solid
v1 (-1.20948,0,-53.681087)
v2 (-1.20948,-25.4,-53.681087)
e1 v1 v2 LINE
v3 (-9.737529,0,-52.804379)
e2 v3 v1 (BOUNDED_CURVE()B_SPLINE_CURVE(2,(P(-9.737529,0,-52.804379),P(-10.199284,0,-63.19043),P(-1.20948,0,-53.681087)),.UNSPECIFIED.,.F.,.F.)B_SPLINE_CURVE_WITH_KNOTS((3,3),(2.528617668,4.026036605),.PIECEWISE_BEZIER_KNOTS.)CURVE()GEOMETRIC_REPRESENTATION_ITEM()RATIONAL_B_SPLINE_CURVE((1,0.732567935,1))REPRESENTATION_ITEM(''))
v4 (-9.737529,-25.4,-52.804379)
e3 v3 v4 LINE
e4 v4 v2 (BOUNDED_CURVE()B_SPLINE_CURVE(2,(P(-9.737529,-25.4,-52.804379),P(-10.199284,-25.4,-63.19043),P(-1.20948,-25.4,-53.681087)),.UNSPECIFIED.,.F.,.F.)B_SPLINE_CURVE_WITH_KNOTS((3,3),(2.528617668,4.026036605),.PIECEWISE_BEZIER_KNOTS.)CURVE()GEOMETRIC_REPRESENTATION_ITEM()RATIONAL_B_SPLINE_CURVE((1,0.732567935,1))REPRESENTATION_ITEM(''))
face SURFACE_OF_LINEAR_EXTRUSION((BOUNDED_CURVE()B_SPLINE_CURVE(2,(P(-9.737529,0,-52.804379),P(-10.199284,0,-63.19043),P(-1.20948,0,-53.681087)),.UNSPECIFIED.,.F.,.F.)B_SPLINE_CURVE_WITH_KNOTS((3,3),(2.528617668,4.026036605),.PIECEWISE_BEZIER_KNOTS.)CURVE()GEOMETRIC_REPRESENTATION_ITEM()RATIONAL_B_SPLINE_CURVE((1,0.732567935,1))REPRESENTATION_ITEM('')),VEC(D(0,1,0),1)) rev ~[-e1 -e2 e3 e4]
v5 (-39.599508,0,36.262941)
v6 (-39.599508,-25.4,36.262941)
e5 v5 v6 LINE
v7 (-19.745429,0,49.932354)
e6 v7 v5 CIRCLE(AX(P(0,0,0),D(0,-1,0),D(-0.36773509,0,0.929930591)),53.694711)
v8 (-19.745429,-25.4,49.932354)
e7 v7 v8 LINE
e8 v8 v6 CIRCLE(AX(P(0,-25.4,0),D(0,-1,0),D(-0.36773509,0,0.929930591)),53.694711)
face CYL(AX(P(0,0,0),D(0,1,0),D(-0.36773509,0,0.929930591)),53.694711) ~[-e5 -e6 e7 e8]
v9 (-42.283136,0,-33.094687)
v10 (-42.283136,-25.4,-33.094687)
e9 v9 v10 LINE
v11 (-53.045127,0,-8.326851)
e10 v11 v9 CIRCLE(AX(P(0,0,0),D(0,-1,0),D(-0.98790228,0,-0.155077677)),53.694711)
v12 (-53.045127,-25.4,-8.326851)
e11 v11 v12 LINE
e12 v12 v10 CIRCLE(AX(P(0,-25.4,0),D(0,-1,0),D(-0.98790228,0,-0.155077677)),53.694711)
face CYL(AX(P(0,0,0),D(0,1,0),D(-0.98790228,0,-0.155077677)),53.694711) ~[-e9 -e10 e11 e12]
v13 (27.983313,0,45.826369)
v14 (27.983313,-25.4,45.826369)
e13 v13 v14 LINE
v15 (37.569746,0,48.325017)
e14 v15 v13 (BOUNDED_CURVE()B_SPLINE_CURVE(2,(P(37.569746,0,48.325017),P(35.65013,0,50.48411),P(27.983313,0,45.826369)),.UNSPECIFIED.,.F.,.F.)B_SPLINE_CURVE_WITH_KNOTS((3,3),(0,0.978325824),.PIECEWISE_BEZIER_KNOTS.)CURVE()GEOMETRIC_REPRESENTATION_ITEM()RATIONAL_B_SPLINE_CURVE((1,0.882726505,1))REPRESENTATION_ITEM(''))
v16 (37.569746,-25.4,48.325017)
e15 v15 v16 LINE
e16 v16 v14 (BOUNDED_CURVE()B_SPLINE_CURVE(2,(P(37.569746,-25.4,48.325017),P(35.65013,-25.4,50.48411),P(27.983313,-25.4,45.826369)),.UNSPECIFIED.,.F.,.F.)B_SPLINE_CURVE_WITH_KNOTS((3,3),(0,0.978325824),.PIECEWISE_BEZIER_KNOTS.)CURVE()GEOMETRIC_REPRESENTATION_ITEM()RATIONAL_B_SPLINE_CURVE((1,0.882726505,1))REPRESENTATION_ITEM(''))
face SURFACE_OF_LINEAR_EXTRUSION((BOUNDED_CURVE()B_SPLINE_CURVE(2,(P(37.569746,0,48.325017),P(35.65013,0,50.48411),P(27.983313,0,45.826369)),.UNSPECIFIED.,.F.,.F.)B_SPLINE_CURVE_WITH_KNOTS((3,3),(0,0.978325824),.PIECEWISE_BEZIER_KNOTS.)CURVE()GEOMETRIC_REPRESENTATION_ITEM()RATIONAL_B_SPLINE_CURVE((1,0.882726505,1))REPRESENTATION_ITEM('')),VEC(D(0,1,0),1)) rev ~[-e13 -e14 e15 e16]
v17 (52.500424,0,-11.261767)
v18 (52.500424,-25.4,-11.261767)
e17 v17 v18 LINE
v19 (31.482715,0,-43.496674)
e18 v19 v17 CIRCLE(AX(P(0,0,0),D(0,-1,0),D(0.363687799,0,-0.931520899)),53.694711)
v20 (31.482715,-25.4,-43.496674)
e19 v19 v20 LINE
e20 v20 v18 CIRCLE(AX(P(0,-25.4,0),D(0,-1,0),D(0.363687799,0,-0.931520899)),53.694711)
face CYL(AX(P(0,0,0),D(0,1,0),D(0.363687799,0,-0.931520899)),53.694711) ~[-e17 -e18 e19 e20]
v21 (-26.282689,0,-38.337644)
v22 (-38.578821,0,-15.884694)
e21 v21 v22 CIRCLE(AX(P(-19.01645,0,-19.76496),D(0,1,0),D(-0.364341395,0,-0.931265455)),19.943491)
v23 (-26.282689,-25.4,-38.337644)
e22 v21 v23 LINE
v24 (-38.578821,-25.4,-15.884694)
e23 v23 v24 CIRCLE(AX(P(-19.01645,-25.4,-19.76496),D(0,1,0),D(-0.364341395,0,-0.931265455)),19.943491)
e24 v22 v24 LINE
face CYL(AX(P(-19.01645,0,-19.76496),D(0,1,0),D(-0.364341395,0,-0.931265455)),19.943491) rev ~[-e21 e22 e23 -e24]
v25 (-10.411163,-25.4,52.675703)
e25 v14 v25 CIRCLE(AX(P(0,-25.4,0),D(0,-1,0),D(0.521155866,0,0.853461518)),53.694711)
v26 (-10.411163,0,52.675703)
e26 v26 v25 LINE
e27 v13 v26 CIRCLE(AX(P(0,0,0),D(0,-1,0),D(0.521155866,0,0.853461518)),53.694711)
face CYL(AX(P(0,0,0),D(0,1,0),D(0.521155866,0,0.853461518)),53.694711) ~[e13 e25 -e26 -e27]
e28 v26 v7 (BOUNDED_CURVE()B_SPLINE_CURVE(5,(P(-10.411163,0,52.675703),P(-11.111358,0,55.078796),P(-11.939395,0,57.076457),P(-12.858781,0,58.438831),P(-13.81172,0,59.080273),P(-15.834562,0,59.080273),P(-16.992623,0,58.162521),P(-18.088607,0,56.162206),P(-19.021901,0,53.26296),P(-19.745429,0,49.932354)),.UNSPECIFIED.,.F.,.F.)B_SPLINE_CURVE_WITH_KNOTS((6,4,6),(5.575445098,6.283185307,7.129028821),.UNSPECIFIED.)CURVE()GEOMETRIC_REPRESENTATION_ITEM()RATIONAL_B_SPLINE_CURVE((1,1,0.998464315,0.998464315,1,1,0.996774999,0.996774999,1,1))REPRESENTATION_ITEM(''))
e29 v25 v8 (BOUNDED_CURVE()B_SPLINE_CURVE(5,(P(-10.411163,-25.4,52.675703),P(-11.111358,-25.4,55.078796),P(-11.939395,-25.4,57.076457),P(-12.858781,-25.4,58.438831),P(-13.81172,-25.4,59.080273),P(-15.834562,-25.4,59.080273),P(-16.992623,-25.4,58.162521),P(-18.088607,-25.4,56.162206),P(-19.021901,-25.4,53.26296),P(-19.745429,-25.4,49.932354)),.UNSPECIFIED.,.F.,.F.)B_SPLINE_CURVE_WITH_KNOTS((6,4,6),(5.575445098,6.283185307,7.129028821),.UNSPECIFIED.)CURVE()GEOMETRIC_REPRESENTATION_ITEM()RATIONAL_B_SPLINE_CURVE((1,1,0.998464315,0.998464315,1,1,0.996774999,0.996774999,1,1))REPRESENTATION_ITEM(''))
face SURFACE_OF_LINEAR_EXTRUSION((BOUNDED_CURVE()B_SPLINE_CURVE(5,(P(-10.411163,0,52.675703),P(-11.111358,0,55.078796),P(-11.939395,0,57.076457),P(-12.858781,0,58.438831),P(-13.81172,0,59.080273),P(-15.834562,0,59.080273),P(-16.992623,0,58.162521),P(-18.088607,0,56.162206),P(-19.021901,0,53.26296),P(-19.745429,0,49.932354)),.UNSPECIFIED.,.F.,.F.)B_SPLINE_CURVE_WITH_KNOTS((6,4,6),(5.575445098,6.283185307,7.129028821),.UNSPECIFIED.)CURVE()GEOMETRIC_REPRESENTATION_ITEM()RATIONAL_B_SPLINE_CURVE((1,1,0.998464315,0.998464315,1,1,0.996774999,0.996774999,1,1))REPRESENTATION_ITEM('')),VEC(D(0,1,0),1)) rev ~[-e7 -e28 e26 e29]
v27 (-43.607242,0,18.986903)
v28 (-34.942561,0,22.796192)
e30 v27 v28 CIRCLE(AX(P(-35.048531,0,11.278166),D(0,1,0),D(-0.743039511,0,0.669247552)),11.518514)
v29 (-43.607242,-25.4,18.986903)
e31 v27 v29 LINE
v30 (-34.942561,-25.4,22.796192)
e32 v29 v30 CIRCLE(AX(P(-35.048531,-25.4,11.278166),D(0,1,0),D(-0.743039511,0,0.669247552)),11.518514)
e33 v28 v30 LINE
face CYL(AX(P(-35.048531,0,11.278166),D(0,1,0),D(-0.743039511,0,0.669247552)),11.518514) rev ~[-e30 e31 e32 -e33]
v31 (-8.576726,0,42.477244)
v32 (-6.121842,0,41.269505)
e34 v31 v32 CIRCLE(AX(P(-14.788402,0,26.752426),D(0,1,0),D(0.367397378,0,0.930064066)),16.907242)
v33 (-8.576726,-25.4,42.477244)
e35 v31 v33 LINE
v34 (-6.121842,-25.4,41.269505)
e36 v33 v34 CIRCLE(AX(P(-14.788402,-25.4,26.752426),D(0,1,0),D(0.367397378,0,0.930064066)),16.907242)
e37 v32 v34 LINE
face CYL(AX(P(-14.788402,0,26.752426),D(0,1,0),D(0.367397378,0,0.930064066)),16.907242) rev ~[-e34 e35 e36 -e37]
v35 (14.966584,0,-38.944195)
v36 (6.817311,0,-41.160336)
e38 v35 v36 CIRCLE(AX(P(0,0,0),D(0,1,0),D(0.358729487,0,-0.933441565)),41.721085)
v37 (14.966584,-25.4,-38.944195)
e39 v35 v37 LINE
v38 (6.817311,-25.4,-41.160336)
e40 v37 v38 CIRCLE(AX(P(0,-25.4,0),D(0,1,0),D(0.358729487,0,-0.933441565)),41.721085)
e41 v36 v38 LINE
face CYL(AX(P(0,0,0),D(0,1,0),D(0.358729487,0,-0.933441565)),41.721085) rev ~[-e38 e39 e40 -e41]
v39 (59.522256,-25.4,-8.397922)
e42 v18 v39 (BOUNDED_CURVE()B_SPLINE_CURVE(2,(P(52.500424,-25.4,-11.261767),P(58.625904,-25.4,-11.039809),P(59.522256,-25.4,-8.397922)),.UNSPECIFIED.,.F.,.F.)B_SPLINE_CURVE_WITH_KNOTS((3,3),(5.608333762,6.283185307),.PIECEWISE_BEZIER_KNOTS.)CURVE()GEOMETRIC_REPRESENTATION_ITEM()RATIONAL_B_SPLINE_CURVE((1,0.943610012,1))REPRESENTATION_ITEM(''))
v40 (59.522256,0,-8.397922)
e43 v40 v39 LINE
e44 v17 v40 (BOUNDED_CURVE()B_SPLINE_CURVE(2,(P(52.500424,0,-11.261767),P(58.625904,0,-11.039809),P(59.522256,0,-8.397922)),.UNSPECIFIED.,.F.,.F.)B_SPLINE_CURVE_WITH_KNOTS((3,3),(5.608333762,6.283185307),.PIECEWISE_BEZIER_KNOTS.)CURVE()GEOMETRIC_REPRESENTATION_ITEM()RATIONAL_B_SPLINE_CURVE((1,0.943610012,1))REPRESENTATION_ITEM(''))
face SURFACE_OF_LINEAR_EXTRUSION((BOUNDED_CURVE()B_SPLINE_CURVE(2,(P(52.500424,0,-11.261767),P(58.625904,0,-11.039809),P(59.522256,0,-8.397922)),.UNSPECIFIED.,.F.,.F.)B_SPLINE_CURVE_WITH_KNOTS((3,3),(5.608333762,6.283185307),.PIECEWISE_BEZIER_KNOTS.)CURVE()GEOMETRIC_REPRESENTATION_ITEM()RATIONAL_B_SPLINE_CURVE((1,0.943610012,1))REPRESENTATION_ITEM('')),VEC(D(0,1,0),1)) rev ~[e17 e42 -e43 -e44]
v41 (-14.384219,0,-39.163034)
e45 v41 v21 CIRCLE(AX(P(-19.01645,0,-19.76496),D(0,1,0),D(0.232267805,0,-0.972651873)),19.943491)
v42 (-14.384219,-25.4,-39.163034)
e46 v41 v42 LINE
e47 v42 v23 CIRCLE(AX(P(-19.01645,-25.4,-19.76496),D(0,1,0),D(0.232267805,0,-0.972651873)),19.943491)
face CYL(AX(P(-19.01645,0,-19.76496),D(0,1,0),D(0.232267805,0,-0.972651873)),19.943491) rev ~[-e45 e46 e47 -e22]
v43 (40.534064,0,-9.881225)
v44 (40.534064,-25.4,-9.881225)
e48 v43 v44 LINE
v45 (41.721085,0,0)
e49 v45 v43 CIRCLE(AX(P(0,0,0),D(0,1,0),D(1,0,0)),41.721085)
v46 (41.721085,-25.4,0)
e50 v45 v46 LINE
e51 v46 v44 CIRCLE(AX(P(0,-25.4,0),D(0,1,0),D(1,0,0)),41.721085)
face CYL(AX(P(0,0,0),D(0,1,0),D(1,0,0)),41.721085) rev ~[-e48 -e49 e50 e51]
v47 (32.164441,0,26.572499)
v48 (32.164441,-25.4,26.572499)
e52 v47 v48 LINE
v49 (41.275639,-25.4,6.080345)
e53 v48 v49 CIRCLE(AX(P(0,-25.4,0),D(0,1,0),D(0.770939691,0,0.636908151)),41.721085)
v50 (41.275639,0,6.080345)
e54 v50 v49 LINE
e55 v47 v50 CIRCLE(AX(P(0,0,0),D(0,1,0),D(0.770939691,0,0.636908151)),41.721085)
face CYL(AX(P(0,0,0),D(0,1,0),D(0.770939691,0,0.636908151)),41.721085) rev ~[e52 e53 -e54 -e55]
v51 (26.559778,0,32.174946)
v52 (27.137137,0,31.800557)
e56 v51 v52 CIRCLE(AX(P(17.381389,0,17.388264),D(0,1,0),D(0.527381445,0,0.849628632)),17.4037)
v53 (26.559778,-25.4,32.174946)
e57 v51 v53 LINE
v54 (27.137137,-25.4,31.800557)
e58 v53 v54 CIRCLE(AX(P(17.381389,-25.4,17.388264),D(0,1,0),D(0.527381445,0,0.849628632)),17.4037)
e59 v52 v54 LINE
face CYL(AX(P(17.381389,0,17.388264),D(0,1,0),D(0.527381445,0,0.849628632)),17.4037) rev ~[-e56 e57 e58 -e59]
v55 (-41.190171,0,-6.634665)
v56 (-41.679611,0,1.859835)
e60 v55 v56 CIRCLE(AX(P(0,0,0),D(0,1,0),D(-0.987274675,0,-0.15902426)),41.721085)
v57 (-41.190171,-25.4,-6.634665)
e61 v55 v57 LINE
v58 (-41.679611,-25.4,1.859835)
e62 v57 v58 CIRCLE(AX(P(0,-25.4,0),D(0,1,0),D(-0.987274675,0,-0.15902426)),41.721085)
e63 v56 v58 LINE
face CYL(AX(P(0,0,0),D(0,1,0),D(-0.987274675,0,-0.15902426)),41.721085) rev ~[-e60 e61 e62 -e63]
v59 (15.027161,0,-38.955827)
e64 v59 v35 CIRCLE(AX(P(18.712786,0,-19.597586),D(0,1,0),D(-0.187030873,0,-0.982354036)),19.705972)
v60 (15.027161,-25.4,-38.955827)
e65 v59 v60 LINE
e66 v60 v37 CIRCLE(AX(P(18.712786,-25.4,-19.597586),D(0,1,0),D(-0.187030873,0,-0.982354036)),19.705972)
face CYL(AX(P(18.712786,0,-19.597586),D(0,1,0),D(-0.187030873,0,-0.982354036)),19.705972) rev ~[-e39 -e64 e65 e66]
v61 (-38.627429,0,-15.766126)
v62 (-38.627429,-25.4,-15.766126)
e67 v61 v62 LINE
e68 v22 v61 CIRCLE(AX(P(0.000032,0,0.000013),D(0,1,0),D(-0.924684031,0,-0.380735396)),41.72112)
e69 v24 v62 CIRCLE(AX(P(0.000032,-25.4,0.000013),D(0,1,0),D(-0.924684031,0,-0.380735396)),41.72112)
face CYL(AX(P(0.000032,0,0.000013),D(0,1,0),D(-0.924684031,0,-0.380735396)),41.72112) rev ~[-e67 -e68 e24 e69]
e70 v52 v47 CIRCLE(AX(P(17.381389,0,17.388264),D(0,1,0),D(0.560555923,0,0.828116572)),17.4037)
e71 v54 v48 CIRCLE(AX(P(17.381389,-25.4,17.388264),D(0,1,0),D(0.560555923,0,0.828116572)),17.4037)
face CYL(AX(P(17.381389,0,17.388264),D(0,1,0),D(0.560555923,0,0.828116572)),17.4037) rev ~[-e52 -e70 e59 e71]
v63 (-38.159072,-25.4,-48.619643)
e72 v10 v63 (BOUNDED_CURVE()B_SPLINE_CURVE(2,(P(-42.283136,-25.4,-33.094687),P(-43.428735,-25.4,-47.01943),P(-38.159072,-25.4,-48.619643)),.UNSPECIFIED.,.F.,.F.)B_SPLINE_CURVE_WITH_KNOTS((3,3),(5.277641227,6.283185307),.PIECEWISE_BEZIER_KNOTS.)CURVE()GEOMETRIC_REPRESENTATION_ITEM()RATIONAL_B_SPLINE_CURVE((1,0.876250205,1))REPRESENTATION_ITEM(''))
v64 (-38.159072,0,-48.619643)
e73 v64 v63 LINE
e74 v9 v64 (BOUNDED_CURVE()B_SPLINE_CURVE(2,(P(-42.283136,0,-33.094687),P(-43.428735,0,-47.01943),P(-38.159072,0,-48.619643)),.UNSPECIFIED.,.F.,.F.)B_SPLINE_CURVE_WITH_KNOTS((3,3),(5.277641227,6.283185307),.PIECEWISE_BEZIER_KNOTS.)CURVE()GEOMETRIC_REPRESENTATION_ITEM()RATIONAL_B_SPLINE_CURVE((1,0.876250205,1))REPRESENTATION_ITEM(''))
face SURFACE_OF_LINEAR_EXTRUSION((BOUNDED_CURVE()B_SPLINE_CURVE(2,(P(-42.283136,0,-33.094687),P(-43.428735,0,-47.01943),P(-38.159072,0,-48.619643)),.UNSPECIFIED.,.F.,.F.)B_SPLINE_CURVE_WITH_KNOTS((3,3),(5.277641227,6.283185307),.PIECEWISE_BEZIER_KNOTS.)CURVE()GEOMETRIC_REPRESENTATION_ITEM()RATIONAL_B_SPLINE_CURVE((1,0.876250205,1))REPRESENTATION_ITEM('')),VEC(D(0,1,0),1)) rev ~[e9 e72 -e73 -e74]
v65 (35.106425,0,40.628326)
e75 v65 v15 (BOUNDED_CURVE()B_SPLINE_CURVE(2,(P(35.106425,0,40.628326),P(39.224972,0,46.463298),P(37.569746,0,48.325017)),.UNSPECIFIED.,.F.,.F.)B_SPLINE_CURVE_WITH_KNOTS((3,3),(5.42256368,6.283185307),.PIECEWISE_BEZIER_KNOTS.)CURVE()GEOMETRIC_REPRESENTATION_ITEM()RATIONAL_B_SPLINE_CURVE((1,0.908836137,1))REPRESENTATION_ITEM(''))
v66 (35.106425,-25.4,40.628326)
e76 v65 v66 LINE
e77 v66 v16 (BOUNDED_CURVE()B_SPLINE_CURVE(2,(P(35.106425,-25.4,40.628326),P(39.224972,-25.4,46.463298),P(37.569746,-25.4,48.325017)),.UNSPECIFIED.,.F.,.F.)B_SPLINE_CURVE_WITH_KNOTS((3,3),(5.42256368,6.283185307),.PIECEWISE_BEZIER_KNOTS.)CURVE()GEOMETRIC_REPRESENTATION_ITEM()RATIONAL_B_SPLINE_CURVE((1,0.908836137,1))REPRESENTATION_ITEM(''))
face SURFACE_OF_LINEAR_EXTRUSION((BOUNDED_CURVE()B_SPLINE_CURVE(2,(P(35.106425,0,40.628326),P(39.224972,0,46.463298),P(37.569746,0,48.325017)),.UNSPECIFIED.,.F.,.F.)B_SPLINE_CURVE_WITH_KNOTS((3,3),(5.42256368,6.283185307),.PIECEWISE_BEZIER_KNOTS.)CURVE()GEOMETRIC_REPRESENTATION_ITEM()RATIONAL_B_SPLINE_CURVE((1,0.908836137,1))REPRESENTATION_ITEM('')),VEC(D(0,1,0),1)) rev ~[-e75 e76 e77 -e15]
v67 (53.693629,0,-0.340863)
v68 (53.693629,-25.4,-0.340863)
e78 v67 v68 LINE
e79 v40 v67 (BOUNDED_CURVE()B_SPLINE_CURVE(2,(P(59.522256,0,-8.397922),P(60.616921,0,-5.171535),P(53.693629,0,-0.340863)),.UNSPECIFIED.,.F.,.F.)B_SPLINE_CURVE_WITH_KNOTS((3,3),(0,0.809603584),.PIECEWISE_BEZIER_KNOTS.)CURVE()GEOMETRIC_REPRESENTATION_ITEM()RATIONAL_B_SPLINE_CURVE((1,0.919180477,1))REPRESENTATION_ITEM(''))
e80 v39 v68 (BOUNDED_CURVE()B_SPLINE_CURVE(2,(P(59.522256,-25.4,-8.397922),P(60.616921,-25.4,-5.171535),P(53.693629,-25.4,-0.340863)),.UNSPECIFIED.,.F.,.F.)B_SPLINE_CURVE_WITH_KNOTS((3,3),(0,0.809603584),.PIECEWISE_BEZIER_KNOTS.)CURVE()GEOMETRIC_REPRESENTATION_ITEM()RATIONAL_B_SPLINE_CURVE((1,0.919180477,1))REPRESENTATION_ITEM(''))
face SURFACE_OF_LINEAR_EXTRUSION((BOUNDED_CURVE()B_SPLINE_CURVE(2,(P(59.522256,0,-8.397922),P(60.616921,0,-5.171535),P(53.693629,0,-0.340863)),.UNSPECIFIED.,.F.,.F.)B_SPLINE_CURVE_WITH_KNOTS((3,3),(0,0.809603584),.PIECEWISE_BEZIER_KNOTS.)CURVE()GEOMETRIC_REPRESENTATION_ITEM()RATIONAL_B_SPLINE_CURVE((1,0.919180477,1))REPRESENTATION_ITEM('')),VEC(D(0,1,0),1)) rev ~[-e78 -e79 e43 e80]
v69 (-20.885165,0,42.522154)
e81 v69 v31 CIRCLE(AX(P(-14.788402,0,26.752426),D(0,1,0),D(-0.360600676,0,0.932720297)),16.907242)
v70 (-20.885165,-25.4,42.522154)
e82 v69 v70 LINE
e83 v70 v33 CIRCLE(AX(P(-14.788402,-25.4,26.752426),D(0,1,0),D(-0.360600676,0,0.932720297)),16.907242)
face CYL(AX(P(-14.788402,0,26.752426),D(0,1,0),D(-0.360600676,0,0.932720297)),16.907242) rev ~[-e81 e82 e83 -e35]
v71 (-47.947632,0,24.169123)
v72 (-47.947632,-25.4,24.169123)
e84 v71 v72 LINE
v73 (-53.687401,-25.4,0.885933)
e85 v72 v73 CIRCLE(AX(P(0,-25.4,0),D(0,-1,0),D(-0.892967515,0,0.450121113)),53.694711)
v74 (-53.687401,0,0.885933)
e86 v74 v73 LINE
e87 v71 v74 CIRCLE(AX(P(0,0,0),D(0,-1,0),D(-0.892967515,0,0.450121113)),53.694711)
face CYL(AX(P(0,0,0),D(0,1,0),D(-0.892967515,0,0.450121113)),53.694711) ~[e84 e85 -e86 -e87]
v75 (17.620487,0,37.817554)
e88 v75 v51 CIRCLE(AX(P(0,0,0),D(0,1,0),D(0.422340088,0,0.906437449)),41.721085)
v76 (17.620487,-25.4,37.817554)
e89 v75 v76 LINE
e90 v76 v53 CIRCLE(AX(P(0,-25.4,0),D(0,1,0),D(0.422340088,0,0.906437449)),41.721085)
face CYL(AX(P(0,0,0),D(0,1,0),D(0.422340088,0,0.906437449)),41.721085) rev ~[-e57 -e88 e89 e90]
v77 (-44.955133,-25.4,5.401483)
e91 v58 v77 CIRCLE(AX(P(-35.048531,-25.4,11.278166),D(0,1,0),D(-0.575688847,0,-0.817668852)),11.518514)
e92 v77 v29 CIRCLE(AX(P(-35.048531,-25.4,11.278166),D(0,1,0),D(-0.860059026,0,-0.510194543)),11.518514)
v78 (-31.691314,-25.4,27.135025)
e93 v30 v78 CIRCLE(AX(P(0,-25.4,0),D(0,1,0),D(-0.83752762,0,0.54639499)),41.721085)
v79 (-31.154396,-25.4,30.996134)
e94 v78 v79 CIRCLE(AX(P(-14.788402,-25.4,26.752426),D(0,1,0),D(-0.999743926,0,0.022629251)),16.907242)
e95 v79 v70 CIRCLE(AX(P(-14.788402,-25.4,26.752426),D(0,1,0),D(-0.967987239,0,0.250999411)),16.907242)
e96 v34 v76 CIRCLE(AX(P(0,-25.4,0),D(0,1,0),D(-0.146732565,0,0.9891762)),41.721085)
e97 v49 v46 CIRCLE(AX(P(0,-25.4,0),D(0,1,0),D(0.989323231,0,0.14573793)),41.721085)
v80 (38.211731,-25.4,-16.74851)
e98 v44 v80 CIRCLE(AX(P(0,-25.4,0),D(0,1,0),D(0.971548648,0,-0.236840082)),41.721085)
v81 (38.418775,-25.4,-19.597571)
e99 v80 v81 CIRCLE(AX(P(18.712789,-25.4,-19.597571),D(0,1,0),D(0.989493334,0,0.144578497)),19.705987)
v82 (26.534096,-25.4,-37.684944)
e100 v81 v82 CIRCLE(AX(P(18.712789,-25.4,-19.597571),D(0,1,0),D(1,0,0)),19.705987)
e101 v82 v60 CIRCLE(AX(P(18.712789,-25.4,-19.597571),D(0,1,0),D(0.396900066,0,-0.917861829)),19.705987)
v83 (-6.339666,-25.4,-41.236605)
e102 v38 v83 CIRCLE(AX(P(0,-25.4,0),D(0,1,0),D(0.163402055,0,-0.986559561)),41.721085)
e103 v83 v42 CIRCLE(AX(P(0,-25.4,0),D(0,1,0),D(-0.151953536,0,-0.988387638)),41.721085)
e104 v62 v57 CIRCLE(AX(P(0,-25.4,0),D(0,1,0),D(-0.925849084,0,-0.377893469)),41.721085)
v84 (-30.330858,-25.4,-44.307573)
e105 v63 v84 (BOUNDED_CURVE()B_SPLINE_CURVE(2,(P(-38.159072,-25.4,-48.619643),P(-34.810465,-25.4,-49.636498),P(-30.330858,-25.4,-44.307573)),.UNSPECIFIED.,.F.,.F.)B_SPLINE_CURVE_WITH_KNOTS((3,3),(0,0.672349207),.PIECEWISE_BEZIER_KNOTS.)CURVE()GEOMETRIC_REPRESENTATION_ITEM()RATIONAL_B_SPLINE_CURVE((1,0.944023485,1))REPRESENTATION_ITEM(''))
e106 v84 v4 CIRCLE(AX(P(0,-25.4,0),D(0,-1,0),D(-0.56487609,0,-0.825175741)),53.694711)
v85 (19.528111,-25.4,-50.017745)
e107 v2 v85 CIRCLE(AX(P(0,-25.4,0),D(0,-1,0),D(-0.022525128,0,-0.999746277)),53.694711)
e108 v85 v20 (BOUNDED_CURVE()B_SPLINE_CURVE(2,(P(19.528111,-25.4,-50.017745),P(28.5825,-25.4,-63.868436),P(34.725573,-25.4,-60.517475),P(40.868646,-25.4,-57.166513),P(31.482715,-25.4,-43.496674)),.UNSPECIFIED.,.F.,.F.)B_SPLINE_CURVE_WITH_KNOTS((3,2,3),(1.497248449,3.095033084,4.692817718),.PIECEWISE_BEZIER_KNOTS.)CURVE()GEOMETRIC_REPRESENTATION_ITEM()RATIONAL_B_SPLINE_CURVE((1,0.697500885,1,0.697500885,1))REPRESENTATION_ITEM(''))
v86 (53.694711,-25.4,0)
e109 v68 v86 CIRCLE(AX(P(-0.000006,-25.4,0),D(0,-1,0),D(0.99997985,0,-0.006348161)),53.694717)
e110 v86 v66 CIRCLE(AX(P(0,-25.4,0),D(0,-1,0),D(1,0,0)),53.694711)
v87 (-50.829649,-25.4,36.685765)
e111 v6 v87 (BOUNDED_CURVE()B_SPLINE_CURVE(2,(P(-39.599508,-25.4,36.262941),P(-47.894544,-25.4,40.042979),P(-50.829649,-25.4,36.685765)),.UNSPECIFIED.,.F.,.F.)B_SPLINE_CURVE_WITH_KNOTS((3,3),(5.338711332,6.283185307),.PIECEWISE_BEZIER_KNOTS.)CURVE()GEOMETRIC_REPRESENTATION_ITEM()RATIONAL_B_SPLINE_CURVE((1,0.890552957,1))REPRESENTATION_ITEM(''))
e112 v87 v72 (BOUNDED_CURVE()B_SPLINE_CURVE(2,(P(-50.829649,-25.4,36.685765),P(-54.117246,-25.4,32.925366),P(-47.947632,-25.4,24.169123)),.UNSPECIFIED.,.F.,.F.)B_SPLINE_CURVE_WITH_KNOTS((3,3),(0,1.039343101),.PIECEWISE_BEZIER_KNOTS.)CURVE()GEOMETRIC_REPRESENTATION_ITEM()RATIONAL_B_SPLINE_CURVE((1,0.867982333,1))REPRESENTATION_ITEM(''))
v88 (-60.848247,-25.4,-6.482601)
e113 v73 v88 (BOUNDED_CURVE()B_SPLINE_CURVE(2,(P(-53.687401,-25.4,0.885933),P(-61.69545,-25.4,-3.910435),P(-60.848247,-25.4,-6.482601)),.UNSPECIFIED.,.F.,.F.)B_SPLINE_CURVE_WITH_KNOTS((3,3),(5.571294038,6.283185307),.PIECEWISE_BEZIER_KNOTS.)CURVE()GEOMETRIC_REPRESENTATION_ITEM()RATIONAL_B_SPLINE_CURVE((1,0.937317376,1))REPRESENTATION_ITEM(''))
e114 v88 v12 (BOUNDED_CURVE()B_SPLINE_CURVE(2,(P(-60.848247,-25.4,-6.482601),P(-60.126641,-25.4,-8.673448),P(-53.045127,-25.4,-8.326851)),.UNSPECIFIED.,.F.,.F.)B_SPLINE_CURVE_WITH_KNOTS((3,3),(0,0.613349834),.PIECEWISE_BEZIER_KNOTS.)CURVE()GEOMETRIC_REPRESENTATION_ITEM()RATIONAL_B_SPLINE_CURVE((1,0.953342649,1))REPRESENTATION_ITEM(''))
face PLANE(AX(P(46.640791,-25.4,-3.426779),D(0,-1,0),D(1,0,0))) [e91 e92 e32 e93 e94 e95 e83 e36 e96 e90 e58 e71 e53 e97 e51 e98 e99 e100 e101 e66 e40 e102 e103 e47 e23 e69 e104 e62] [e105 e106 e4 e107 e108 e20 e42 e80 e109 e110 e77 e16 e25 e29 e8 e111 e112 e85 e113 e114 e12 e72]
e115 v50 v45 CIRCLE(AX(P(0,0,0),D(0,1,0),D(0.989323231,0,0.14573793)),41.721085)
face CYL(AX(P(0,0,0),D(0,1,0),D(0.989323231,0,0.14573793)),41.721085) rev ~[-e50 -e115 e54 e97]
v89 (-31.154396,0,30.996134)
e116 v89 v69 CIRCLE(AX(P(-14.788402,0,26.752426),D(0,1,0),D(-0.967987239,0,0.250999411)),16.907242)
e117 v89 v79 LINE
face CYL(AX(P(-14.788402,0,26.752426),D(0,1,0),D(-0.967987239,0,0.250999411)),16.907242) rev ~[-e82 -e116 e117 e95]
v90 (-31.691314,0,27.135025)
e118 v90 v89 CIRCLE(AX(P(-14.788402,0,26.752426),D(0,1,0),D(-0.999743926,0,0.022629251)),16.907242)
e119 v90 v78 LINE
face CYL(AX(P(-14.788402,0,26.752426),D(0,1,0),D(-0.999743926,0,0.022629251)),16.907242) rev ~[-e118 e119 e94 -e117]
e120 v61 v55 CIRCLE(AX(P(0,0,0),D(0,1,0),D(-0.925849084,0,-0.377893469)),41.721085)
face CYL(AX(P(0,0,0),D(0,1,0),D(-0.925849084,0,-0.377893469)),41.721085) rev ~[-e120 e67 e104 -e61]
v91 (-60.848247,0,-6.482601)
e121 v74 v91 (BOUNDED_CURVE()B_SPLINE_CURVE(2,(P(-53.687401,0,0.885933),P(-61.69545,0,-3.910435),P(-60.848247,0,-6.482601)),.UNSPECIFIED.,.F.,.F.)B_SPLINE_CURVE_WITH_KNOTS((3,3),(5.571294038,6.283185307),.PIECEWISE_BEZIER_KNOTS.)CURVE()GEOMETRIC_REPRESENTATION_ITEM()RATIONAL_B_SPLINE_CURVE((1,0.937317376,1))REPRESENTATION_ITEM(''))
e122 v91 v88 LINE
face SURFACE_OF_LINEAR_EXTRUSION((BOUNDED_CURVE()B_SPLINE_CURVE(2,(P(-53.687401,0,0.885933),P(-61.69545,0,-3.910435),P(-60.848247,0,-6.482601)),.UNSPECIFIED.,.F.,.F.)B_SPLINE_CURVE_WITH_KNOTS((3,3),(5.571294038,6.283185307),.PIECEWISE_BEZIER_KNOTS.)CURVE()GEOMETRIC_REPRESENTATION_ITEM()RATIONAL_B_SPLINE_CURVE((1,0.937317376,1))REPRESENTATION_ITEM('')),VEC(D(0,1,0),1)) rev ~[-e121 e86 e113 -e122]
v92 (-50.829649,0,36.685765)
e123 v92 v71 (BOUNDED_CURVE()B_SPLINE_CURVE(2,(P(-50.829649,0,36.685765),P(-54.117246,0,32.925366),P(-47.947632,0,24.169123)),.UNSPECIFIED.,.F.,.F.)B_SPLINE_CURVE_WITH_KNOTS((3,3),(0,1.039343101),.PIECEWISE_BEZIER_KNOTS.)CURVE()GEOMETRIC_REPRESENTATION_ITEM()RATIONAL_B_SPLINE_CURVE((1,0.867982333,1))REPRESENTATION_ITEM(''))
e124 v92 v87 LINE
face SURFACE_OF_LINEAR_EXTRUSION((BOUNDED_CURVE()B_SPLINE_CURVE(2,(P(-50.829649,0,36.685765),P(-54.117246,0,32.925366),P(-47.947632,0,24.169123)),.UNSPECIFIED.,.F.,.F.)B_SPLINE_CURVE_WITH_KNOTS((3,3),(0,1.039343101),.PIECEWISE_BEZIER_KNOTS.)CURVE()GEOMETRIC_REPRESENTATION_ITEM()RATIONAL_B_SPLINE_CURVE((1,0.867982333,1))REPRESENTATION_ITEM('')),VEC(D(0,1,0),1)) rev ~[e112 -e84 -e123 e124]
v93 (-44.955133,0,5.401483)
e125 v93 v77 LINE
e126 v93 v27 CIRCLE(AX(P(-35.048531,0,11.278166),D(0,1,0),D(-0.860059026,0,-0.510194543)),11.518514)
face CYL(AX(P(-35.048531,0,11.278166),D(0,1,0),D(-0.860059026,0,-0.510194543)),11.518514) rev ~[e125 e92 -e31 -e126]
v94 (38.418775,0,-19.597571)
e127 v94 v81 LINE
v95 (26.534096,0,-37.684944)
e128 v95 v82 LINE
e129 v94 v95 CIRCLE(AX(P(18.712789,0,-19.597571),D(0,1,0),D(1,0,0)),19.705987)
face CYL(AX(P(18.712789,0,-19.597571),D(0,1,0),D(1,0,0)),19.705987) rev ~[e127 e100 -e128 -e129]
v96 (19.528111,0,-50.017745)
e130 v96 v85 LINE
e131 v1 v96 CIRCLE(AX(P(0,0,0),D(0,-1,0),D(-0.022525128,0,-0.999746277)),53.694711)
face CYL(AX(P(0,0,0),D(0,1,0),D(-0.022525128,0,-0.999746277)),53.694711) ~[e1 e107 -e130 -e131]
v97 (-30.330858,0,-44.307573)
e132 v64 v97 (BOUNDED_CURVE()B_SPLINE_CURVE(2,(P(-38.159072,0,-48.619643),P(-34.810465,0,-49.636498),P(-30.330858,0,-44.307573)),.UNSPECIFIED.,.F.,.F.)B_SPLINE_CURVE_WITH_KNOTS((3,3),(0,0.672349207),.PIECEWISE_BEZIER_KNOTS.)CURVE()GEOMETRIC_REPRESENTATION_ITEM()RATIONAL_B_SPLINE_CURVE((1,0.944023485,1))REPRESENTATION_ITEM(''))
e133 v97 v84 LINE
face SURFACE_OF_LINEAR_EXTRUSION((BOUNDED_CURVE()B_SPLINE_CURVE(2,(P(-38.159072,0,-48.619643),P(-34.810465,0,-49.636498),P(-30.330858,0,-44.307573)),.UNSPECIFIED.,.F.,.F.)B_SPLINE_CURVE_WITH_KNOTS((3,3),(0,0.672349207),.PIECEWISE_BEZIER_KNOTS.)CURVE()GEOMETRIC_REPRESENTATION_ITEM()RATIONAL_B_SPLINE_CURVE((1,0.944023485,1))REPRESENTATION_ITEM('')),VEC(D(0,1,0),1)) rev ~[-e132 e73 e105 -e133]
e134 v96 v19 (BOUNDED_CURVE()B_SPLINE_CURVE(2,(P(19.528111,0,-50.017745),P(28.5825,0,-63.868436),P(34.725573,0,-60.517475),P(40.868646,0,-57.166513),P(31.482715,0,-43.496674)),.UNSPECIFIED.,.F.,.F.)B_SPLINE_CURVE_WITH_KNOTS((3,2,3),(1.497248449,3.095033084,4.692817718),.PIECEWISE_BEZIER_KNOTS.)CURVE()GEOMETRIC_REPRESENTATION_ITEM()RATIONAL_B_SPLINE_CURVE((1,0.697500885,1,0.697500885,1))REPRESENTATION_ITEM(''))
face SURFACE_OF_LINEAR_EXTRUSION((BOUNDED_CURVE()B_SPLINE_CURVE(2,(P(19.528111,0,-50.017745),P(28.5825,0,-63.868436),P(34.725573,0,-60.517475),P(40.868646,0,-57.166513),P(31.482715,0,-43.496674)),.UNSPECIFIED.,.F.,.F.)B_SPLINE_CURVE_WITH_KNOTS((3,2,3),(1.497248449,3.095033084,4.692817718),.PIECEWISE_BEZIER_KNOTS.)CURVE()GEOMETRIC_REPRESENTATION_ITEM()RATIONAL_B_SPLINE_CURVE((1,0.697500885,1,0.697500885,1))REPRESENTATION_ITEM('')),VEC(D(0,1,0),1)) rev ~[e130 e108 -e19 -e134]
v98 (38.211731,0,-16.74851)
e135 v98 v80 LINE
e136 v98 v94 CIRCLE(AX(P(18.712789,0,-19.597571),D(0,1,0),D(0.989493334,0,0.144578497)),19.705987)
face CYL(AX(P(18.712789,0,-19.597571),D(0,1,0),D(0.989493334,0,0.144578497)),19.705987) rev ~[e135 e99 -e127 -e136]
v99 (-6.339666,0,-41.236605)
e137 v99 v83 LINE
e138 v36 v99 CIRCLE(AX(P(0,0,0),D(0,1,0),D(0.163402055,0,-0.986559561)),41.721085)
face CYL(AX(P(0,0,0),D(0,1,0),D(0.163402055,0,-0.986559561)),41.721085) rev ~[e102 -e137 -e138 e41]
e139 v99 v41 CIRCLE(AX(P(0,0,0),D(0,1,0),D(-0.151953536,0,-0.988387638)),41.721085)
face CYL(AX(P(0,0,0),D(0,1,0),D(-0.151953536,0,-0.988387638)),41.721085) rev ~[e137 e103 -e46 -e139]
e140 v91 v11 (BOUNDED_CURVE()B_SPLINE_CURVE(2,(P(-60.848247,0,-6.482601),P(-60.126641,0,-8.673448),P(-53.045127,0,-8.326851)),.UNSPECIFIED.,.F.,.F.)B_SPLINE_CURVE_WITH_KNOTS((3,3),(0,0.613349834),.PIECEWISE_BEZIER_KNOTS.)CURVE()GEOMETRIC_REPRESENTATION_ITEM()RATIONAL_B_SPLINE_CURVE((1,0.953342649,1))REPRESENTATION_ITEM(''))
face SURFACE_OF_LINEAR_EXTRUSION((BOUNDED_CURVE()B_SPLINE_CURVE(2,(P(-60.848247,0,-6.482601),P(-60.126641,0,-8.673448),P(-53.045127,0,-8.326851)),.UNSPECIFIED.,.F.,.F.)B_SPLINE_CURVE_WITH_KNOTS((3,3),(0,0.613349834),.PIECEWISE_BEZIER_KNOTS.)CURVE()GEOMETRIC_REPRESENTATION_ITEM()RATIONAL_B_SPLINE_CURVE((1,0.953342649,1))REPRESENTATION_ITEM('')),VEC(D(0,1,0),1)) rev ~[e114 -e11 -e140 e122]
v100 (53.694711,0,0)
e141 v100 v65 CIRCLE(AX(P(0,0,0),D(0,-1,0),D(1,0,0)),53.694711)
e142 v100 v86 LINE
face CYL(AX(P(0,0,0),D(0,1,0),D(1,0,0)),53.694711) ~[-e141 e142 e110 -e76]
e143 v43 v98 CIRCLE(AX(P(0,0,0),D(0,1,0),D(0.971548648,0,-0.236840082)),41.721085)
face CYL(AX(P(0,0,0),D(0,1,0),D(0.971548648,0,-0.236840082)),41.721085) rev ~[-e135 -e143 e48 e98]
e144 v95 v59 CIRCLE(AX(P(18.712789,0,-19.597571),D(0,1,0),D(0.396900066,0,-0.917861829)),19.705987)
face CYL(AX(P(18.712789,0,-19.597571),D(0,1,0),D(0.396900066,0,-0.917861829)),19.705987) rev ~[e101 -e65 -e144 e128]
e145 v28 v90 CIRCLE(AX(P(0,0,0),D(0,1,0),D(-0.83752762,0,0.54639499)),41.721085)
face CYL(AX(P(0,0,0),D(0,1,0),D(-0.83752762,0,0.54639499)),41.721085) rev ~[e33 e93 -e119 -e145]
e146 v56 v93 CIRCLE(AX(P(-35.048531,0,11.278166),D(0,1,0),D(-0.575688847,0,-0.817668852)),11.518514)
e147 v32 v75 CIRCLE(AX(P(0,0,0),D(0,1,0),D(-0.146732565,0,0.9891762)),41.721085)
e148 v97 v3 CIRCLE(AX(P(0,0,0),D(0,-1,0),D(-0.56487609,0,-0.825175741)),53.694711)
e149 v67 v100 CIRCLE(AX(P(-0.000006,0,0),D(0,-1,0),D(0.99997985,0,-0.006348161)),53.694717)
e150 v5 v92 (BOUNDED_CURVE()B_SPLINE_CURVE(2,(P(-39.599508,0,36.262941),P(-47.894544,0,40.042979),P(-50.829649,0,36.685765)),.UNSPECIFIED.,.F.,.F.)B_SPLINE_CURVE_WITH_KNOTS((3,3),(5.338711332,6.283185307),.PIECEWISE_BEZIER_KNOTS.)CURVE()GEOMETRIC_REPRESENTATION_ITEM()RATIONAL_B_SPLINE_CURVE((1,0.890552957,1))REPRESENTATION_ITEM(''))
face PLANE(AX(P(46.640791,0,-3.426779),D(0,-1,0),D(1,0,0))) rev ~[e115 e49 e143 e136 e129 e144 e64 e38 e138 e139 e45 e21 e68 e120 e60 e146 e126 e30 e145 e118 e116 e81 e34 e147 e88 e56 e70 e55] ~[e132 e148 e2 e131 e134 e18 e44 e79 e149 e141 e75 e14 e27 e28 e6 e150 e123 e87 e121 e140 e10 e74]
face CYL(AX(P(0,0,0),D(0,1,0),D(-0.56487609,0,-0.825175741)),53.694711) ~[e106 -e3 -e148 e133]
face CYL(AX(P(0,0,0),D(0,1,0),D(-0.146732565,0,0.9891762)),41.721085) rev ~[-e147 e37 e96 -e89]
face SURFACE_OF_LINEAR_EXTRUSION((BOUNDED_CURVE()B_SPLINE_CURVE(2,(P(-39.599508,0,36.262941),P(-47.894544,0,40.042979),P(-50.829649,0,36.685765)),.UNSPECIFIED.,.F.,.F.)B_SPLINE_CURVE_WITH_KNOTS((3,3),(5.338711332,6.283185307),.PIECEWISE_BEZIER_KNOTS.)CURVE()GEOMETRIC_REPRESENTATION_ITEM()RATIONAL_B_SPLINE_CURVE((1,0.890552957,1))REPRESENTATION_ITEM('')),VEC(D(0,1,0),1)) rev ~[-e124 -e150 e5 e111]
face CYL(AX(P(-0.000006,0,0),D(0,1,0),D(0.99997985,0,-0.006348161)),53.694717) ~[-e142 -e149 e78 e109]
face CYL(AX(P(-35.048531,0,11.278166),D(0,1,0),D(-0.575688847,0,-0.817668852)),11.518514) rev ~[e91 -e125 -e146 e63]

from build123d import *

# Parameters (mm, degrees)
F1_DEPTH = 25.4


with BuildPart() as f1:
    # F0 (on Front) → F1 (new body)
    with BuildSketch(Plane.XZ):
        with BuildLine():
            add(Edge.make_bspline(
                [(53.693628733, -0.3408626991), (48.6992844614, 3.1439014528), (41.2756389905, 6.0803446271)],
                knots=[0.8096035838, 0.8096035838, 0.8096035838, 1.4091490359, 1.4091490359, 1.4091490359], degree=2, weights=[1, 0.9554036285, 1]))
            ThreePointArc((41.2756389905, 6.0803446271), (41.609574758, 3.048319753), (41.7210853749, 0))
            ThreePointArc((41.7210853749, 0), (41.423267093, -4.9761338609), (40.5340640891, -9.8812252922))
            add(Edge.make_bspline(
                [(40.5340640891, -9.8812252922), (47.4861511231, -11.4434594754), (52.5004244601, -11.2617665317)],
                knots=[5.0489926173, 5.0489926173, 5.0489926173, 5.6083337617, 5.6083337617, 5.6083337617], degree=2, weights=[1, 0.9611464254, 1]))
            ThreePointArc((52.5004244601, -11.2617665317), (53.3770621946, -5.831910954), (53.693628733, -0.3408626991))
        make_face()
        with BuildLine():
            ThreePointArc((32.1644406561, 26.5724993581), (38.1227415856, 16.9500896415), (41.2756389905, 6.0803446271))
            add(Edge.make_bspline(
                [(53.693628733, -0.3408626991), (48.6992844614, 3.1439014528), (41.2756389905, 6.0803446271)],
                knots=[0.8096035838, 0.8096035838, 0.8096035838, 1.4091490359, 1.4091490359, 1.4091490359], degree=2, weights=[1, 0.9554036285, 1]))
            ThreePointArc((53.693628733, -0.3408626991), (53.6944401848, -0.1704322081), (53.6947106697, 0))
            ThreePointArc((53.6947106697, 0), (48.826996956, 22.339344712), (35.1064245633, 40.6283264273))
            add(Edge.make_bspline(
                [(27.1371365833, 31.8005567559), (32.084402839, 36.3468628195), (35.1064245633, 40.6283264273)],
                knots=[4.7728408838, 4.7728408838, 4.7728408838, 5.4225636803, 5.4225636803, 5.4225636803], degree=2, weights=[1, 0.9476949741, 1]))
            ThreePointArc((27.1371365833, 31.8005567559), (29.9261613459, 29.4513266854), (32.1644406561, 26.5724993581))
        make_face()
        with BuildLine():
            ThreePointArc((-6.3396664298, -41.2366050302), (-10.413682261, -40.4005468604), (-14.3842187106, -39.1630338067))
            ThreePointArc((-14.3842187106, -39.1630338067), (-20.3966008315, -39.6606382593), (-26.2826891334, -38.3376441323))
            add(Edge.make_bspline(
                [(-30.3308582118, -44.3075726489), (-28.2730966274, -41.8596665456), (-26.2826891334, -38.3376441323)],
                knots=[0.6723492071, 0.6723492071, 0.6723492071, 0.9906714204, 0.9906714204, 0.9906714204], degree=2, weights=[1, 0.987360587, 1]))
            ThreePointArc((-30.3308582118, -44.3075726489), (-20.4796933723, -49.6357140905), (-9.7375287913, -52.8043794296))
            add(Edge.make_bspline(
                [(-6.3396664298, -41.2366050302), (-9.5239160693, -47.9996812879), (-9.7375287913, -52.8043794296)],
                knots=[1.7166702175, 1.7166702175, 1.7166702175, 2.5286176677, 2.5286176677, 2.5286176677], degree=2, weights=[1, 0.9187182955, 1]))
        make_face()
        with BuildLine():
            ThreePointArc((40.5340640891, -9.8812252922), (39.5223349898, -13.3654031667), (38.2117310963, -16.7485095302))
            ThreePointArc((38.2117310963, -16.7485095302), (38.3669461003, -18.1692839125), (38.4187753132, -19.5975714451))
            ThreePointArc((38.4187753132, -19.5975714451), (35.1817365731, -30.4188312542), (26.5340961431, -37.6849442905))
            add(Edge.make_bspline(
                [(31.4827147543, -43.4966737303), (29.210163647, -40.1868893619), (26.5340961431, -37.6849442905)],
                knots=[4.6928177183, 4.6928177183, 4.6928177183, 5.1804165566, 5.1804165566, 5.1804165566], degree=2, weights=[1, 0.9704278342, 1]))
            ThreePointArc((31.4827147543, -43.4966737303), (44.9784862862, -29.3267407889), (52.5004244601, -11.2617665317))
            add(Edge.make_bspline(
                [(40.5340640891, -9.8812252922), (47.4861511231, -11.4434594754), (52.5004244601, -11.2617665317)],
                knots=[5.0489926173, 5.0489926173, 5.0489926173, 5.6083337617, 5.6083337617, 5.6083337617], degree=2, weights=[1, 0.9611464254, 1]))
        make_face()
        with BuildLine():
            ThreePointArc((17.6204868833, 37.8175542156), (22.2695690482, 35.280522378), (26.5597779081, 32.17494619))
            ThreePointArc((26.5597779081, 32.17494619), (26.8503077889, 31.9906052587), (27.1371365833, 31.8005567559))
            add(Edge.make_bspline(
                [(27.1371365833, 31.8005567559), (32.084402839, 36.3468628195), (35.1064245633, 40.6283264273)],
                knots=[4.7728408838, 4.7728408838, 4.7728408838, 5.4225636803, 5.4225636803, 5.4225636803], degree=2, weights=[1, 0.9476949741, 1]))
            ThreePointArc((35.1064245633, 40.6283264273), (31.6517562305, 43.3738202309), (27.983313431, 45.8263693012))
            add(Edge.make_bspline(
                [(27.983313431, 45.8263693012), (22.8232865987, 42.6915518829), (17.6204868833, 37.8175542156)],
                knots=[0.9783258244, 0.9783258244, 0.9783258244, 1.6663632628, 1.6663632628, 1.6663632628], degree=2, weights=[1, 0.9414068654, 1]))
        make_face()
        with BuildLine():
            ThreePointArc((-6.1218418572, 41.2695046873), (6.0028076659, 41.28698663), (17.6204868833, 37.8175542156))
            add(Edge.make_bspline(
                [(27.983313431, 45.8263693012), (22.8232865987, 42.6915518829), (17.6204868833, 37.8175542156)],
                knots=[0.9783258244, 0.9783258244, 0.9783258244, 1.6663632628, 1.6663632628, 1.6663632628], degree=2, weights=[1, 0.9414068654, 1]))
            ThreePointArc((27.983313431, 45.8263693012), (9.4299236667, 52.8601787127), (-10.4111628746, 52.6757025724))
            add(Edge.make_bspline(
                [(-8.576725661, 42.4772444818), (-9.1854960537, 48.4691725927), (-10.4111628746, 52.6757025724)],
                knots=[5.0993735251, 5.0993735251, 5.0993735251, 5.5754450976, 5.5754450976, 5.5754450976], degree=2, weights=[1, 0.9718029995, 1]))
            ThreePointArc((-8.576725661, 42.4772444818), (-7.3248144541, 41.9231115401), (-6.1218418572, 41.2695046873))
        make_face()
        with BuildLine():
            add(Edge.make_bspline(
                [(59.5222562551, -8.3979219198), (60.6169207592, -5.1715348662), (53.693628733, -0.3408626991)],
                knots=[0, 0, 0, 0.8096035838, 0.8096035838, 0.8096035838], degree=2, weights=[1, 0.9191804768, 1]))
            ThreePointArc((53.693628733, -0.3408626991), (53.3770621946, -5.831910954), (52.5004244601, -11.2617665317))
            add(Edge.make_bspline(
                [(52.5004244601, -11.2617665317), (58.625903827, -11.0398088715), (59.5222562551, -8.3979219198)],
                knots=[5.6083337617, 5.6083337617, 5.6083337617, 6.2831853072, 6.2831853072, 6.2831853072], degree=2, weights=[1, 0.9436100125, 1]))
        make_face()
        with BuildLine():
            ThreePointArc((6.8173111066, -41.1603356902), (0.2418478083, -41.7203844001), (-6.3396664298, -41.2366050302))
            add(Edge.make_bspline(
                [(-6.3396664298, -41.2366050302), (-9.5239160693, -47.9996812879), (-9.7375287913, -52.8043794296)],
                knots=[1.7166702175, 1.7166702175, 1.7166702175, 2.5286176677, 2.5286176677, 2.5286176677], degree=2, weights=[1, 0.9187182955, 1]))
            ThreePointArc((-9.7375287913, -52.8043794296), (-5.4910295589, -53.4132057481), (-1.2094802131, -53.6810870933))
            add(Edge.make_bspline(
                [(-1.2094802131, -53.6810870933), (3.4559192594, -48.7460644434), (6.8173111066, -41.1603356902)],
                knots=[4.0260366054, 4.0260366054, 4.0260366054, 4.9246773136, 4.9246773136, 4.9246773136], degree=2, weights=[1, 0.9007425169, 1]))
        make_face()
        with BuildLine():
            add(Edge.make_bspline(
                [(-30.3308582118, -44.3075726489), (-28.2730966274, -41.8596665456), (-26.2826891334, -38.3376441323)],
                knots=[0.6723492071, 0.6723492071, 0.6723492071, 0.9906714204, 0.9906714204, 0.9906714204], degree=2, weights=[1, 0.987360587, 1]))
            ThreePointArc((-26.2826891334, -38.3376441323), (-36.508657562, -29.3443912437), (-38.5788214038, -15.884694015))
            ThreePointArc((-38.5788214038, -15.884694015), (-38.6031705619, -15.8254285068), (-38.6274286754, -15.7661256746))
            add(Edge.make_bspline(
                [(-38.6274286754, -15.7661256746), (-41.6047866658, -24.8493489432), (-42.2831363751, -33.094687371)],
                knots=[4.6480564766, 4.6480564766, 4.6480564766, 5.2776412265, 5.2776412265, 5.2776412265], degree=2, weights=[1, 0.9508606841, 1]))
            ThreePointArc((-42.2831363751, -33.094687371), (-36.7373141578, -39.1598225528), (-30.3308582118, -44.3075726489))
        make_face()
        with BuildLine():
            ThreePointArc((-20.8851648358, 42.52215403), (-14.7267133041, 43.6595556974), (-8.576725661, 42.4772444818))
            add(Edge.make_bspline(
                [(-8.576725661, 42.4772444818), (-9.1854960537, 48.4691725927), (-10.4111628746, 52.6757025724)],
                knots=[5.0993735251, 5.0993735251, 5.0993735251, 5.5754450976, 5.5754450976, 5.5754450976], degree=2, weights=[1, 0.9718029995, 1]))
            ThreePointArc((-10.4111628746, 52.6757025724), (-15.1405582049, 51.5158757195), (-19.7454292684, 49.9323540093))
            add(Edge.make_bspline(
                [(-19.7454292684, 49.9323540093), (-20.4681418042, 46.605504239), (-20.8851648358, 42.52215403)],
                knots=[0.8540179343, 0.8540179343, 0.8540179343, 1.1819925491, 1.1819925491, 1.1819925491], degree=2, weights=[1, 0.9865841866, 1]))
        make_face()
        with BuildLine():
            add(Edge.make_bspline(
                [(37.5697463751, 48.3250170946), (35.6501297843, 50.4841104773), (27.983313431, 45.8263693012)],
                knots=[0, 0, 0, 0.9783258244, 0.9783258244, 0.9783258244], degree=2, weights=[1, 0.8827265046, 1]))
            ThreePointArc((27.983313431, 45.8263693012), (31.6517562305, 43.3738202309), (35.1064245633, 40.6283264273))
            add(Edge.make_bspline(
                [(35.1064245633, 40.6283264273), (39.2249720197, 46.4632980654), (37.5697463751, 48.3250170946)],
                knots=[5.4225636803, 5.4225636803, 5.4225636803, 6.2831853072, 6.2831853072, 6.2831853072], degree=2, weights=[1, 0.9088361367, 1]))
        make_face()
        with BuildLine():
            ThreePointArc((15.0271608977, -38.9558268545), (14.9968676707, -38.9500347429), (14.966583546, -38.9441952262))
            ThreePointArc((14.966583546, -38.9441952262), (10.9481658828, -40.2589943821), (6.8173111066, -41.1603356902))
            add(Edge.make_bspline(
                [(-1.2094802131, -53.6810870933), (3.4559192594, -48.7460644434), (6.8173111066, -41.1603356902)],
                knots=[4.0260366054, 4.0260366054, 4.0260366054, 4.9246773136, 4.9246773136, 4.9246773136], degree=2, weights=[1, 0.9007425169, 1]))
            ThreePointArc((-1.2094802131, -53.6810870933), (9.3406679907, -52.8760236344), (19.5281111595, -50.0177451355))
            add(Edge.make_bspline(
                [(15.0271608977, -38.9558268545), (15.5644341459, -43.9544244636), (19.5281111595, -50.0177451355)],
                knots=[0.6519732759, 0.6519732759, 0.6519732759, 1.4972484493, 1.4972484493, 1.4972484493], degree=2, weights=[1, 0.9120102619, 1]))
        make_face()
        with BuildLine():
            ThreePointArc((-1.2094802131, -53.6810870933), (-5.4910295589, -53.4132057481), (-9.7375287913, -52.8043794296))
            add(Edge.make_bspline(
                [(-9.7375287913, -52.8043794296), (-10.1992836129, -63.1904300033), (-1.2094802131, -53.6810870933)],
                knots=[2.5286176677, 2.5286176677, 2.5286176677, 4.0260366054, 4.0260366054, 4.0260366054], degree=2, weights=[1, 0.7325679354, 1]))
        make_face()
        with BuildLine():
            add(Edge.make_bspline(
                [(-38.1590723991, -48.6196428537), (-34.8104654464, -49.6364980081), (-30.3308582118, -44.3075726489)],
                knots=[0, 0, 0, 0.6723492071, 0.6723492071, 0.6723492071], degree=2, weights=[1, 0.9440234848, 1]))
            ThreePointArc((-30.3308582118, -44.3075726489), (-36.7373141578, -39.1598225528), (-42.2831363751, -33.094687371))
            add(Edge.make_bspline(
                [(-42.2831363751, -33.094687371), (-43.428734623, -47.0194302073), (-38.1590723991, -48.6196428537)],
                knots=[5.2776412265, 5.2776412265, 5.2776412265, 6.2831853072, 6.2831853072, 6.2831853072], degree=2, weights=[1, 0.8762502049, 1]))
        make_face()
        with BuildLine():
            add(Edge.make_bspline(
                [(31.4827147543, -43.4966737303), (29.210163647, -40.1868893619), (26.5340961431, -37.6849442905)],
                knots=[4.6928177183, 4.6928177183, 4.6928177183, 5.1804165566, 5.1804165566, 5.1804165566], degree=2, weights=[1, 0.9704278342, 1]))
            ThreePointArc((26.5340961431, -37.6849442905), (20.8760610269, -39.1844588582), (15.0271608977, -38.9558268545))
            add(Edge.make_bspline(
                [(15.0271608977, -38.9558268545), (15.5644341459, -43.9544244636), (19.5281111595, -50.0177451355)],
                knots=[0.6519732759, 0.6519732759, 0.6519732759, 1.4972484493, 1.4972484493, 1.4972484493], degree=2, weights=[1, 0.9120102619, 1]))
            ThreePointArc((19.5281111595, -50.0177451355), (25.712976941, -47.1377213146), (31.4827147543, -43.4966737303))
        make_face()
        with BuildLine():
            add(Edge.make_bspline(
                [(19.5281111595, -50.0177451355), (28.5825003351, -63.8684360144), (34.7255731463, -60.5174745098), (40.8686459575, -57.1665130052), (31.4827147543, -43.4966737303)],
                knots=[1.4972484493, 1.4972484493, 1.4972484493, 3.0950330838, 3.0950330838, 4.6928177183, 4.6928177183, 4.6928177183], degree=2, weights=[1, 0.6975008847, 1, 0.6975008847, 1]))
            ThreePointArc((31.4827147543, -43.4966737303), (25.712976941, -47.1377213146), (19.5281111595, -50.0177451355))
        make_face()
        with BuildLine():
            ThreePointArc((-31.1543963718, 30.9961341287), (-27.4120365411, 37.9995894977), (-20.8851648358, 42.52215403))
            add(Edge.make_bspline(
                [(-19.7454292684, 49.9323540093), (-20.4681418042, 46.605504239), (-20.8851648358, 42.52215403)],
                knots=[0.8540179343, 0.8540179343, 0.8540179343, 1.1819925491, 1.1819925491, 1.1819925491], degree=2, weights=[1, 0.9865841866, 1]))
            ThreePointArc((-19.7454292684, 49.9323540093), (-30.4494435134, 44.2261613033), (-39.5995081415, 36.2629412603))
            add(Edge.make_bspline(
                [(-31.1543963718, 30.9961341287), (-35.4059183226, 34.3519271397), (-39.5995081415, 36.2629412603)],
                knots=[4.8332950545, 4.8332950545, 4.8332950545, 5.3387113323, 5.3387113323, 5.3387113323], degree=2, weights=[1, 0.9682388652, 1]))
        make_face()
        with BuildLine():
            ThreePointArc((-19.7454292684, 49.9323540093), (-15.1405582049, 51.5158757195), (-10.4111628746, 52.6757025724))
            add(Edge.make_bspline(
                [(-10.4111628746, 52.6757025724), (-12.2772780351, 59.080272913), (-14.7332325578, 59.080272913)],
                knots=[5.5754450976, 5.5754450976, 5.5754450976, 6.2831853072, 6.2831853072, 6.2831853072], degree=2, weights=[1, 0.9380386309, 1]))
            add(Edge.make_bspline(
                [(-14.7332325578, 59.080272913), (-17.7581692102, 59.080272913), (-19.7454292684, 49.9323540093)],
                knots=[0, 0, 0, 0.8540179343, 0.8540179343, 0.8540179343], degree=2, weights=[1, 0.9102085562, 1]))
        make_face()
        with BuildLine():
            add(Edge.make_bspline(
                [(-38.6274286754, -15.7661256746), (-41.6047866658, -24.8493489432), (-42.2831363751, -33.094687371)],
                knots=[4.6480564766, 4.6480564766, 4.6480564766, 5.2776412265, 5.2776412265, 5.2776412265], degree=2, weights=[1, 0.9508606841, 1]))
            ThreePointArc((-38.6274286754, -15.7661256746), (-40.1691199824, -11.2734539827), (-41.1901710225, -6.6346647235))
            add(Edge.make_bspline(
                [(-53.0451270773, -8.3268509806), (-48.1613250647, -8.0878187298), (-41.1901710225, -6.6346647235)],
                knots=[0.6133498335, 0.6133498335, 0.6133498335, 1.0433774897, 1.0433774897, 1.0433774897], degree=2, weights=[1, 0.9769734439, 1]))
            ThreePointArc((-53.0451270773, -8.3268509806), (-49.2466332157, -21.3983894446), (-42.2831363751, -33.094687371))
        make_face()
        with BuildLine():
            ThreePointArc((-34.9425613518, 22.7961920292), (-33.3874933876, 25.0184781742), (-31.6913143482, 27.1350245945))
            ThreePointArc((-31.6913143482, 27.1350245945), (-31.5345084219, 29.0811056075), (-31.1543963718, 30.9961341287))
            add(Edge.make_bspline(
                [(-31.1543963718, 30.9961341287), (-35.4059183226, 34.3519271397), (-39.5995081415, 36.2629412603)],
                knots=[4.8332950545, 4.8332950545, 4.8332950545, 5.3387113323, 5.3387113323, 5.3387113323], degree=2, weights=[1, 0.9682388652, 1]))
            ThreePointArc((-39.5995081415, 36.2629412603), (-44.1892584675, 30.5029734614), (-47.9476323812, 24.1691229245))
            add(Edge.make_bspline(
                [(-47.9476323812, 24.1691229245), (-46.0966583923, 21.542122406), (-43.6072420088, 18.9869027955)],
                knots=[1.0393431008, 1.0393431008, 1.0393431008, 1.3793222328, 1.3793222328, 1.3793222328], degree=2, weights=[1, 0.9855865321, 1]))
            ThreePointArc((-43.6072420088, 18.9869027955), (-39.6842488788, 21.8226562192), (-34.9425613518, 22.7961920292))
        make_face()
        with BuildLine():
            ThreePointArc((-41.1901710225, -6.6346647235), (-41.6520026913, -2.3999243035), (-41.6796110485, 1.8598353955))
            ThreePointArc((-41.6796110485, 1.8598353955), (-43.5048627977, 3.4572565278), (-44.9551329371, 5.4014825293))
            add(Edge.make_bspline(
                [(-44.9551329371, 5.4014825293), (-50.0196481139, 3.0827092087), (-53.6874014766, 0.8859326133)],
                knots=[5.2339716844, 5.2339716844, 5.2339716844, 5.5712940382, 5.5712940382, 5.5712940382], degree=2, weights=[1, 0.9858103888, 1]))
            ThreePointArc((-53.6874014766, 0.8859326133), (-53.5646992735, -3.7342931913), (-53.0451270773, -8.3268509806))
            add(Edge.make_bspline(
                [(-53.0451270773, -8.3268509806), (-48.1613250647, -8.0878187298), (-41.1901710225, -6.6346647235)],
                knots=[0.6133498335, 0.6133498335, 0.6133498335, 1.0433774897, 1.0433774897, 1.0433774897], degree=2, weights=[1, 0.9769734439, 1]))
        make_face()
        with BuildLine():
            add(Edge.make_bspline(
                [(-60.8482472599, -6.4826011658), (-60.1266412767, -8.6734478069), (-53.0451270773, -8.3268509806)],
                knots=[0, 0, 0, 0.6133498335, 0.6133498335, 0.6133498335], degree=2, weights=[1, 0.9533426488, 1]))
            ThreePointArc((-53.0451270773, -8.3268509806), (-53.5646992735, -3.7342931913), (-53.6874014766, 0.8859326133))
            add(Edge.make_bspline(
                [(-53.6874014766, 0.8859326133), (-61.6954496919, -3.9104348508), (-60.8482472599, -6.4826011658)],
                knots=[5.5712940382, 5.5712940382, 5.5712940382, 6.2831853072, 6.2831853072, 6.2831853072], degree=2, weights=[1, 0.9373173762, 1]))
        make_face()
        with BuildLine():
            ThreePointArc((-47.9476323812, 24.1691229245), (-44.1892584675, 30.5029734614), (-39.5995081415, 36.2629412603))
            add(Edge.make_bspline(
                [(-39.5995081415, 36.2629412603), (-47.8945435176, 40.042979466), (-50.8296489716, 36.6857647896)],
                knots=[5.3387113323, 5.3387113323, 5.3387113323, 6.2831853072, 6.2831853072, 6.2831853072], degree=2, weights=[1, 0.8905529574, 1]))
            add(Edge.make_bspline(
                [(-50.8296489716, 36.6857647896), (-54.1172457339, 32.9253656237), (-47.9476323812, 24.1691229245)],
                knots=[0, 0, 0, 1.0393431008, 1.0393431008, 1.0393431008], degree=2, weights=[1, 0.867982333, 1]))
        make_face()
        with BuildLine():
            add(Edge.make_bspline(
                [(-44.9551329371, 5.4014825293), (-50.0196481139, 3.0827092087), (-53.6874014766, 0.8859326133)],
                knots=[5.2339716844, 5.2339716844, 5.2339716844, 5.5712940382, 5.5712940382, 5.5712940382], degree=2, weights=[1, 0.9858103888, 1]))
            ThreePointArc((-44.9551329371, 5.4014825293), (-46.5107671058, 12.4154026141), (-43.6072420088, 18.9869027955))
            add(Edge.make_bspline(
                [(-47.9476323812, 24.1691229245), (-46.0966583923, 21.542122406), (-43.6072420088, 18.9869027955)],
                knots=[1.0393431008, 1.0393431008, 1.0393431008, 1.3793222328, 1.3793222328, 1.3793222328], degree=2, weights=[1, 0.9855865321, 1]))
            ThreePointArc((-47.9476323812, 24.1691229245), (-52.1339310295, 12.8520500045), (-53.6874014766, 0.8859326133))
        make_face()
    extrude(amount=F1_DEPTH)


solid = f1.part
